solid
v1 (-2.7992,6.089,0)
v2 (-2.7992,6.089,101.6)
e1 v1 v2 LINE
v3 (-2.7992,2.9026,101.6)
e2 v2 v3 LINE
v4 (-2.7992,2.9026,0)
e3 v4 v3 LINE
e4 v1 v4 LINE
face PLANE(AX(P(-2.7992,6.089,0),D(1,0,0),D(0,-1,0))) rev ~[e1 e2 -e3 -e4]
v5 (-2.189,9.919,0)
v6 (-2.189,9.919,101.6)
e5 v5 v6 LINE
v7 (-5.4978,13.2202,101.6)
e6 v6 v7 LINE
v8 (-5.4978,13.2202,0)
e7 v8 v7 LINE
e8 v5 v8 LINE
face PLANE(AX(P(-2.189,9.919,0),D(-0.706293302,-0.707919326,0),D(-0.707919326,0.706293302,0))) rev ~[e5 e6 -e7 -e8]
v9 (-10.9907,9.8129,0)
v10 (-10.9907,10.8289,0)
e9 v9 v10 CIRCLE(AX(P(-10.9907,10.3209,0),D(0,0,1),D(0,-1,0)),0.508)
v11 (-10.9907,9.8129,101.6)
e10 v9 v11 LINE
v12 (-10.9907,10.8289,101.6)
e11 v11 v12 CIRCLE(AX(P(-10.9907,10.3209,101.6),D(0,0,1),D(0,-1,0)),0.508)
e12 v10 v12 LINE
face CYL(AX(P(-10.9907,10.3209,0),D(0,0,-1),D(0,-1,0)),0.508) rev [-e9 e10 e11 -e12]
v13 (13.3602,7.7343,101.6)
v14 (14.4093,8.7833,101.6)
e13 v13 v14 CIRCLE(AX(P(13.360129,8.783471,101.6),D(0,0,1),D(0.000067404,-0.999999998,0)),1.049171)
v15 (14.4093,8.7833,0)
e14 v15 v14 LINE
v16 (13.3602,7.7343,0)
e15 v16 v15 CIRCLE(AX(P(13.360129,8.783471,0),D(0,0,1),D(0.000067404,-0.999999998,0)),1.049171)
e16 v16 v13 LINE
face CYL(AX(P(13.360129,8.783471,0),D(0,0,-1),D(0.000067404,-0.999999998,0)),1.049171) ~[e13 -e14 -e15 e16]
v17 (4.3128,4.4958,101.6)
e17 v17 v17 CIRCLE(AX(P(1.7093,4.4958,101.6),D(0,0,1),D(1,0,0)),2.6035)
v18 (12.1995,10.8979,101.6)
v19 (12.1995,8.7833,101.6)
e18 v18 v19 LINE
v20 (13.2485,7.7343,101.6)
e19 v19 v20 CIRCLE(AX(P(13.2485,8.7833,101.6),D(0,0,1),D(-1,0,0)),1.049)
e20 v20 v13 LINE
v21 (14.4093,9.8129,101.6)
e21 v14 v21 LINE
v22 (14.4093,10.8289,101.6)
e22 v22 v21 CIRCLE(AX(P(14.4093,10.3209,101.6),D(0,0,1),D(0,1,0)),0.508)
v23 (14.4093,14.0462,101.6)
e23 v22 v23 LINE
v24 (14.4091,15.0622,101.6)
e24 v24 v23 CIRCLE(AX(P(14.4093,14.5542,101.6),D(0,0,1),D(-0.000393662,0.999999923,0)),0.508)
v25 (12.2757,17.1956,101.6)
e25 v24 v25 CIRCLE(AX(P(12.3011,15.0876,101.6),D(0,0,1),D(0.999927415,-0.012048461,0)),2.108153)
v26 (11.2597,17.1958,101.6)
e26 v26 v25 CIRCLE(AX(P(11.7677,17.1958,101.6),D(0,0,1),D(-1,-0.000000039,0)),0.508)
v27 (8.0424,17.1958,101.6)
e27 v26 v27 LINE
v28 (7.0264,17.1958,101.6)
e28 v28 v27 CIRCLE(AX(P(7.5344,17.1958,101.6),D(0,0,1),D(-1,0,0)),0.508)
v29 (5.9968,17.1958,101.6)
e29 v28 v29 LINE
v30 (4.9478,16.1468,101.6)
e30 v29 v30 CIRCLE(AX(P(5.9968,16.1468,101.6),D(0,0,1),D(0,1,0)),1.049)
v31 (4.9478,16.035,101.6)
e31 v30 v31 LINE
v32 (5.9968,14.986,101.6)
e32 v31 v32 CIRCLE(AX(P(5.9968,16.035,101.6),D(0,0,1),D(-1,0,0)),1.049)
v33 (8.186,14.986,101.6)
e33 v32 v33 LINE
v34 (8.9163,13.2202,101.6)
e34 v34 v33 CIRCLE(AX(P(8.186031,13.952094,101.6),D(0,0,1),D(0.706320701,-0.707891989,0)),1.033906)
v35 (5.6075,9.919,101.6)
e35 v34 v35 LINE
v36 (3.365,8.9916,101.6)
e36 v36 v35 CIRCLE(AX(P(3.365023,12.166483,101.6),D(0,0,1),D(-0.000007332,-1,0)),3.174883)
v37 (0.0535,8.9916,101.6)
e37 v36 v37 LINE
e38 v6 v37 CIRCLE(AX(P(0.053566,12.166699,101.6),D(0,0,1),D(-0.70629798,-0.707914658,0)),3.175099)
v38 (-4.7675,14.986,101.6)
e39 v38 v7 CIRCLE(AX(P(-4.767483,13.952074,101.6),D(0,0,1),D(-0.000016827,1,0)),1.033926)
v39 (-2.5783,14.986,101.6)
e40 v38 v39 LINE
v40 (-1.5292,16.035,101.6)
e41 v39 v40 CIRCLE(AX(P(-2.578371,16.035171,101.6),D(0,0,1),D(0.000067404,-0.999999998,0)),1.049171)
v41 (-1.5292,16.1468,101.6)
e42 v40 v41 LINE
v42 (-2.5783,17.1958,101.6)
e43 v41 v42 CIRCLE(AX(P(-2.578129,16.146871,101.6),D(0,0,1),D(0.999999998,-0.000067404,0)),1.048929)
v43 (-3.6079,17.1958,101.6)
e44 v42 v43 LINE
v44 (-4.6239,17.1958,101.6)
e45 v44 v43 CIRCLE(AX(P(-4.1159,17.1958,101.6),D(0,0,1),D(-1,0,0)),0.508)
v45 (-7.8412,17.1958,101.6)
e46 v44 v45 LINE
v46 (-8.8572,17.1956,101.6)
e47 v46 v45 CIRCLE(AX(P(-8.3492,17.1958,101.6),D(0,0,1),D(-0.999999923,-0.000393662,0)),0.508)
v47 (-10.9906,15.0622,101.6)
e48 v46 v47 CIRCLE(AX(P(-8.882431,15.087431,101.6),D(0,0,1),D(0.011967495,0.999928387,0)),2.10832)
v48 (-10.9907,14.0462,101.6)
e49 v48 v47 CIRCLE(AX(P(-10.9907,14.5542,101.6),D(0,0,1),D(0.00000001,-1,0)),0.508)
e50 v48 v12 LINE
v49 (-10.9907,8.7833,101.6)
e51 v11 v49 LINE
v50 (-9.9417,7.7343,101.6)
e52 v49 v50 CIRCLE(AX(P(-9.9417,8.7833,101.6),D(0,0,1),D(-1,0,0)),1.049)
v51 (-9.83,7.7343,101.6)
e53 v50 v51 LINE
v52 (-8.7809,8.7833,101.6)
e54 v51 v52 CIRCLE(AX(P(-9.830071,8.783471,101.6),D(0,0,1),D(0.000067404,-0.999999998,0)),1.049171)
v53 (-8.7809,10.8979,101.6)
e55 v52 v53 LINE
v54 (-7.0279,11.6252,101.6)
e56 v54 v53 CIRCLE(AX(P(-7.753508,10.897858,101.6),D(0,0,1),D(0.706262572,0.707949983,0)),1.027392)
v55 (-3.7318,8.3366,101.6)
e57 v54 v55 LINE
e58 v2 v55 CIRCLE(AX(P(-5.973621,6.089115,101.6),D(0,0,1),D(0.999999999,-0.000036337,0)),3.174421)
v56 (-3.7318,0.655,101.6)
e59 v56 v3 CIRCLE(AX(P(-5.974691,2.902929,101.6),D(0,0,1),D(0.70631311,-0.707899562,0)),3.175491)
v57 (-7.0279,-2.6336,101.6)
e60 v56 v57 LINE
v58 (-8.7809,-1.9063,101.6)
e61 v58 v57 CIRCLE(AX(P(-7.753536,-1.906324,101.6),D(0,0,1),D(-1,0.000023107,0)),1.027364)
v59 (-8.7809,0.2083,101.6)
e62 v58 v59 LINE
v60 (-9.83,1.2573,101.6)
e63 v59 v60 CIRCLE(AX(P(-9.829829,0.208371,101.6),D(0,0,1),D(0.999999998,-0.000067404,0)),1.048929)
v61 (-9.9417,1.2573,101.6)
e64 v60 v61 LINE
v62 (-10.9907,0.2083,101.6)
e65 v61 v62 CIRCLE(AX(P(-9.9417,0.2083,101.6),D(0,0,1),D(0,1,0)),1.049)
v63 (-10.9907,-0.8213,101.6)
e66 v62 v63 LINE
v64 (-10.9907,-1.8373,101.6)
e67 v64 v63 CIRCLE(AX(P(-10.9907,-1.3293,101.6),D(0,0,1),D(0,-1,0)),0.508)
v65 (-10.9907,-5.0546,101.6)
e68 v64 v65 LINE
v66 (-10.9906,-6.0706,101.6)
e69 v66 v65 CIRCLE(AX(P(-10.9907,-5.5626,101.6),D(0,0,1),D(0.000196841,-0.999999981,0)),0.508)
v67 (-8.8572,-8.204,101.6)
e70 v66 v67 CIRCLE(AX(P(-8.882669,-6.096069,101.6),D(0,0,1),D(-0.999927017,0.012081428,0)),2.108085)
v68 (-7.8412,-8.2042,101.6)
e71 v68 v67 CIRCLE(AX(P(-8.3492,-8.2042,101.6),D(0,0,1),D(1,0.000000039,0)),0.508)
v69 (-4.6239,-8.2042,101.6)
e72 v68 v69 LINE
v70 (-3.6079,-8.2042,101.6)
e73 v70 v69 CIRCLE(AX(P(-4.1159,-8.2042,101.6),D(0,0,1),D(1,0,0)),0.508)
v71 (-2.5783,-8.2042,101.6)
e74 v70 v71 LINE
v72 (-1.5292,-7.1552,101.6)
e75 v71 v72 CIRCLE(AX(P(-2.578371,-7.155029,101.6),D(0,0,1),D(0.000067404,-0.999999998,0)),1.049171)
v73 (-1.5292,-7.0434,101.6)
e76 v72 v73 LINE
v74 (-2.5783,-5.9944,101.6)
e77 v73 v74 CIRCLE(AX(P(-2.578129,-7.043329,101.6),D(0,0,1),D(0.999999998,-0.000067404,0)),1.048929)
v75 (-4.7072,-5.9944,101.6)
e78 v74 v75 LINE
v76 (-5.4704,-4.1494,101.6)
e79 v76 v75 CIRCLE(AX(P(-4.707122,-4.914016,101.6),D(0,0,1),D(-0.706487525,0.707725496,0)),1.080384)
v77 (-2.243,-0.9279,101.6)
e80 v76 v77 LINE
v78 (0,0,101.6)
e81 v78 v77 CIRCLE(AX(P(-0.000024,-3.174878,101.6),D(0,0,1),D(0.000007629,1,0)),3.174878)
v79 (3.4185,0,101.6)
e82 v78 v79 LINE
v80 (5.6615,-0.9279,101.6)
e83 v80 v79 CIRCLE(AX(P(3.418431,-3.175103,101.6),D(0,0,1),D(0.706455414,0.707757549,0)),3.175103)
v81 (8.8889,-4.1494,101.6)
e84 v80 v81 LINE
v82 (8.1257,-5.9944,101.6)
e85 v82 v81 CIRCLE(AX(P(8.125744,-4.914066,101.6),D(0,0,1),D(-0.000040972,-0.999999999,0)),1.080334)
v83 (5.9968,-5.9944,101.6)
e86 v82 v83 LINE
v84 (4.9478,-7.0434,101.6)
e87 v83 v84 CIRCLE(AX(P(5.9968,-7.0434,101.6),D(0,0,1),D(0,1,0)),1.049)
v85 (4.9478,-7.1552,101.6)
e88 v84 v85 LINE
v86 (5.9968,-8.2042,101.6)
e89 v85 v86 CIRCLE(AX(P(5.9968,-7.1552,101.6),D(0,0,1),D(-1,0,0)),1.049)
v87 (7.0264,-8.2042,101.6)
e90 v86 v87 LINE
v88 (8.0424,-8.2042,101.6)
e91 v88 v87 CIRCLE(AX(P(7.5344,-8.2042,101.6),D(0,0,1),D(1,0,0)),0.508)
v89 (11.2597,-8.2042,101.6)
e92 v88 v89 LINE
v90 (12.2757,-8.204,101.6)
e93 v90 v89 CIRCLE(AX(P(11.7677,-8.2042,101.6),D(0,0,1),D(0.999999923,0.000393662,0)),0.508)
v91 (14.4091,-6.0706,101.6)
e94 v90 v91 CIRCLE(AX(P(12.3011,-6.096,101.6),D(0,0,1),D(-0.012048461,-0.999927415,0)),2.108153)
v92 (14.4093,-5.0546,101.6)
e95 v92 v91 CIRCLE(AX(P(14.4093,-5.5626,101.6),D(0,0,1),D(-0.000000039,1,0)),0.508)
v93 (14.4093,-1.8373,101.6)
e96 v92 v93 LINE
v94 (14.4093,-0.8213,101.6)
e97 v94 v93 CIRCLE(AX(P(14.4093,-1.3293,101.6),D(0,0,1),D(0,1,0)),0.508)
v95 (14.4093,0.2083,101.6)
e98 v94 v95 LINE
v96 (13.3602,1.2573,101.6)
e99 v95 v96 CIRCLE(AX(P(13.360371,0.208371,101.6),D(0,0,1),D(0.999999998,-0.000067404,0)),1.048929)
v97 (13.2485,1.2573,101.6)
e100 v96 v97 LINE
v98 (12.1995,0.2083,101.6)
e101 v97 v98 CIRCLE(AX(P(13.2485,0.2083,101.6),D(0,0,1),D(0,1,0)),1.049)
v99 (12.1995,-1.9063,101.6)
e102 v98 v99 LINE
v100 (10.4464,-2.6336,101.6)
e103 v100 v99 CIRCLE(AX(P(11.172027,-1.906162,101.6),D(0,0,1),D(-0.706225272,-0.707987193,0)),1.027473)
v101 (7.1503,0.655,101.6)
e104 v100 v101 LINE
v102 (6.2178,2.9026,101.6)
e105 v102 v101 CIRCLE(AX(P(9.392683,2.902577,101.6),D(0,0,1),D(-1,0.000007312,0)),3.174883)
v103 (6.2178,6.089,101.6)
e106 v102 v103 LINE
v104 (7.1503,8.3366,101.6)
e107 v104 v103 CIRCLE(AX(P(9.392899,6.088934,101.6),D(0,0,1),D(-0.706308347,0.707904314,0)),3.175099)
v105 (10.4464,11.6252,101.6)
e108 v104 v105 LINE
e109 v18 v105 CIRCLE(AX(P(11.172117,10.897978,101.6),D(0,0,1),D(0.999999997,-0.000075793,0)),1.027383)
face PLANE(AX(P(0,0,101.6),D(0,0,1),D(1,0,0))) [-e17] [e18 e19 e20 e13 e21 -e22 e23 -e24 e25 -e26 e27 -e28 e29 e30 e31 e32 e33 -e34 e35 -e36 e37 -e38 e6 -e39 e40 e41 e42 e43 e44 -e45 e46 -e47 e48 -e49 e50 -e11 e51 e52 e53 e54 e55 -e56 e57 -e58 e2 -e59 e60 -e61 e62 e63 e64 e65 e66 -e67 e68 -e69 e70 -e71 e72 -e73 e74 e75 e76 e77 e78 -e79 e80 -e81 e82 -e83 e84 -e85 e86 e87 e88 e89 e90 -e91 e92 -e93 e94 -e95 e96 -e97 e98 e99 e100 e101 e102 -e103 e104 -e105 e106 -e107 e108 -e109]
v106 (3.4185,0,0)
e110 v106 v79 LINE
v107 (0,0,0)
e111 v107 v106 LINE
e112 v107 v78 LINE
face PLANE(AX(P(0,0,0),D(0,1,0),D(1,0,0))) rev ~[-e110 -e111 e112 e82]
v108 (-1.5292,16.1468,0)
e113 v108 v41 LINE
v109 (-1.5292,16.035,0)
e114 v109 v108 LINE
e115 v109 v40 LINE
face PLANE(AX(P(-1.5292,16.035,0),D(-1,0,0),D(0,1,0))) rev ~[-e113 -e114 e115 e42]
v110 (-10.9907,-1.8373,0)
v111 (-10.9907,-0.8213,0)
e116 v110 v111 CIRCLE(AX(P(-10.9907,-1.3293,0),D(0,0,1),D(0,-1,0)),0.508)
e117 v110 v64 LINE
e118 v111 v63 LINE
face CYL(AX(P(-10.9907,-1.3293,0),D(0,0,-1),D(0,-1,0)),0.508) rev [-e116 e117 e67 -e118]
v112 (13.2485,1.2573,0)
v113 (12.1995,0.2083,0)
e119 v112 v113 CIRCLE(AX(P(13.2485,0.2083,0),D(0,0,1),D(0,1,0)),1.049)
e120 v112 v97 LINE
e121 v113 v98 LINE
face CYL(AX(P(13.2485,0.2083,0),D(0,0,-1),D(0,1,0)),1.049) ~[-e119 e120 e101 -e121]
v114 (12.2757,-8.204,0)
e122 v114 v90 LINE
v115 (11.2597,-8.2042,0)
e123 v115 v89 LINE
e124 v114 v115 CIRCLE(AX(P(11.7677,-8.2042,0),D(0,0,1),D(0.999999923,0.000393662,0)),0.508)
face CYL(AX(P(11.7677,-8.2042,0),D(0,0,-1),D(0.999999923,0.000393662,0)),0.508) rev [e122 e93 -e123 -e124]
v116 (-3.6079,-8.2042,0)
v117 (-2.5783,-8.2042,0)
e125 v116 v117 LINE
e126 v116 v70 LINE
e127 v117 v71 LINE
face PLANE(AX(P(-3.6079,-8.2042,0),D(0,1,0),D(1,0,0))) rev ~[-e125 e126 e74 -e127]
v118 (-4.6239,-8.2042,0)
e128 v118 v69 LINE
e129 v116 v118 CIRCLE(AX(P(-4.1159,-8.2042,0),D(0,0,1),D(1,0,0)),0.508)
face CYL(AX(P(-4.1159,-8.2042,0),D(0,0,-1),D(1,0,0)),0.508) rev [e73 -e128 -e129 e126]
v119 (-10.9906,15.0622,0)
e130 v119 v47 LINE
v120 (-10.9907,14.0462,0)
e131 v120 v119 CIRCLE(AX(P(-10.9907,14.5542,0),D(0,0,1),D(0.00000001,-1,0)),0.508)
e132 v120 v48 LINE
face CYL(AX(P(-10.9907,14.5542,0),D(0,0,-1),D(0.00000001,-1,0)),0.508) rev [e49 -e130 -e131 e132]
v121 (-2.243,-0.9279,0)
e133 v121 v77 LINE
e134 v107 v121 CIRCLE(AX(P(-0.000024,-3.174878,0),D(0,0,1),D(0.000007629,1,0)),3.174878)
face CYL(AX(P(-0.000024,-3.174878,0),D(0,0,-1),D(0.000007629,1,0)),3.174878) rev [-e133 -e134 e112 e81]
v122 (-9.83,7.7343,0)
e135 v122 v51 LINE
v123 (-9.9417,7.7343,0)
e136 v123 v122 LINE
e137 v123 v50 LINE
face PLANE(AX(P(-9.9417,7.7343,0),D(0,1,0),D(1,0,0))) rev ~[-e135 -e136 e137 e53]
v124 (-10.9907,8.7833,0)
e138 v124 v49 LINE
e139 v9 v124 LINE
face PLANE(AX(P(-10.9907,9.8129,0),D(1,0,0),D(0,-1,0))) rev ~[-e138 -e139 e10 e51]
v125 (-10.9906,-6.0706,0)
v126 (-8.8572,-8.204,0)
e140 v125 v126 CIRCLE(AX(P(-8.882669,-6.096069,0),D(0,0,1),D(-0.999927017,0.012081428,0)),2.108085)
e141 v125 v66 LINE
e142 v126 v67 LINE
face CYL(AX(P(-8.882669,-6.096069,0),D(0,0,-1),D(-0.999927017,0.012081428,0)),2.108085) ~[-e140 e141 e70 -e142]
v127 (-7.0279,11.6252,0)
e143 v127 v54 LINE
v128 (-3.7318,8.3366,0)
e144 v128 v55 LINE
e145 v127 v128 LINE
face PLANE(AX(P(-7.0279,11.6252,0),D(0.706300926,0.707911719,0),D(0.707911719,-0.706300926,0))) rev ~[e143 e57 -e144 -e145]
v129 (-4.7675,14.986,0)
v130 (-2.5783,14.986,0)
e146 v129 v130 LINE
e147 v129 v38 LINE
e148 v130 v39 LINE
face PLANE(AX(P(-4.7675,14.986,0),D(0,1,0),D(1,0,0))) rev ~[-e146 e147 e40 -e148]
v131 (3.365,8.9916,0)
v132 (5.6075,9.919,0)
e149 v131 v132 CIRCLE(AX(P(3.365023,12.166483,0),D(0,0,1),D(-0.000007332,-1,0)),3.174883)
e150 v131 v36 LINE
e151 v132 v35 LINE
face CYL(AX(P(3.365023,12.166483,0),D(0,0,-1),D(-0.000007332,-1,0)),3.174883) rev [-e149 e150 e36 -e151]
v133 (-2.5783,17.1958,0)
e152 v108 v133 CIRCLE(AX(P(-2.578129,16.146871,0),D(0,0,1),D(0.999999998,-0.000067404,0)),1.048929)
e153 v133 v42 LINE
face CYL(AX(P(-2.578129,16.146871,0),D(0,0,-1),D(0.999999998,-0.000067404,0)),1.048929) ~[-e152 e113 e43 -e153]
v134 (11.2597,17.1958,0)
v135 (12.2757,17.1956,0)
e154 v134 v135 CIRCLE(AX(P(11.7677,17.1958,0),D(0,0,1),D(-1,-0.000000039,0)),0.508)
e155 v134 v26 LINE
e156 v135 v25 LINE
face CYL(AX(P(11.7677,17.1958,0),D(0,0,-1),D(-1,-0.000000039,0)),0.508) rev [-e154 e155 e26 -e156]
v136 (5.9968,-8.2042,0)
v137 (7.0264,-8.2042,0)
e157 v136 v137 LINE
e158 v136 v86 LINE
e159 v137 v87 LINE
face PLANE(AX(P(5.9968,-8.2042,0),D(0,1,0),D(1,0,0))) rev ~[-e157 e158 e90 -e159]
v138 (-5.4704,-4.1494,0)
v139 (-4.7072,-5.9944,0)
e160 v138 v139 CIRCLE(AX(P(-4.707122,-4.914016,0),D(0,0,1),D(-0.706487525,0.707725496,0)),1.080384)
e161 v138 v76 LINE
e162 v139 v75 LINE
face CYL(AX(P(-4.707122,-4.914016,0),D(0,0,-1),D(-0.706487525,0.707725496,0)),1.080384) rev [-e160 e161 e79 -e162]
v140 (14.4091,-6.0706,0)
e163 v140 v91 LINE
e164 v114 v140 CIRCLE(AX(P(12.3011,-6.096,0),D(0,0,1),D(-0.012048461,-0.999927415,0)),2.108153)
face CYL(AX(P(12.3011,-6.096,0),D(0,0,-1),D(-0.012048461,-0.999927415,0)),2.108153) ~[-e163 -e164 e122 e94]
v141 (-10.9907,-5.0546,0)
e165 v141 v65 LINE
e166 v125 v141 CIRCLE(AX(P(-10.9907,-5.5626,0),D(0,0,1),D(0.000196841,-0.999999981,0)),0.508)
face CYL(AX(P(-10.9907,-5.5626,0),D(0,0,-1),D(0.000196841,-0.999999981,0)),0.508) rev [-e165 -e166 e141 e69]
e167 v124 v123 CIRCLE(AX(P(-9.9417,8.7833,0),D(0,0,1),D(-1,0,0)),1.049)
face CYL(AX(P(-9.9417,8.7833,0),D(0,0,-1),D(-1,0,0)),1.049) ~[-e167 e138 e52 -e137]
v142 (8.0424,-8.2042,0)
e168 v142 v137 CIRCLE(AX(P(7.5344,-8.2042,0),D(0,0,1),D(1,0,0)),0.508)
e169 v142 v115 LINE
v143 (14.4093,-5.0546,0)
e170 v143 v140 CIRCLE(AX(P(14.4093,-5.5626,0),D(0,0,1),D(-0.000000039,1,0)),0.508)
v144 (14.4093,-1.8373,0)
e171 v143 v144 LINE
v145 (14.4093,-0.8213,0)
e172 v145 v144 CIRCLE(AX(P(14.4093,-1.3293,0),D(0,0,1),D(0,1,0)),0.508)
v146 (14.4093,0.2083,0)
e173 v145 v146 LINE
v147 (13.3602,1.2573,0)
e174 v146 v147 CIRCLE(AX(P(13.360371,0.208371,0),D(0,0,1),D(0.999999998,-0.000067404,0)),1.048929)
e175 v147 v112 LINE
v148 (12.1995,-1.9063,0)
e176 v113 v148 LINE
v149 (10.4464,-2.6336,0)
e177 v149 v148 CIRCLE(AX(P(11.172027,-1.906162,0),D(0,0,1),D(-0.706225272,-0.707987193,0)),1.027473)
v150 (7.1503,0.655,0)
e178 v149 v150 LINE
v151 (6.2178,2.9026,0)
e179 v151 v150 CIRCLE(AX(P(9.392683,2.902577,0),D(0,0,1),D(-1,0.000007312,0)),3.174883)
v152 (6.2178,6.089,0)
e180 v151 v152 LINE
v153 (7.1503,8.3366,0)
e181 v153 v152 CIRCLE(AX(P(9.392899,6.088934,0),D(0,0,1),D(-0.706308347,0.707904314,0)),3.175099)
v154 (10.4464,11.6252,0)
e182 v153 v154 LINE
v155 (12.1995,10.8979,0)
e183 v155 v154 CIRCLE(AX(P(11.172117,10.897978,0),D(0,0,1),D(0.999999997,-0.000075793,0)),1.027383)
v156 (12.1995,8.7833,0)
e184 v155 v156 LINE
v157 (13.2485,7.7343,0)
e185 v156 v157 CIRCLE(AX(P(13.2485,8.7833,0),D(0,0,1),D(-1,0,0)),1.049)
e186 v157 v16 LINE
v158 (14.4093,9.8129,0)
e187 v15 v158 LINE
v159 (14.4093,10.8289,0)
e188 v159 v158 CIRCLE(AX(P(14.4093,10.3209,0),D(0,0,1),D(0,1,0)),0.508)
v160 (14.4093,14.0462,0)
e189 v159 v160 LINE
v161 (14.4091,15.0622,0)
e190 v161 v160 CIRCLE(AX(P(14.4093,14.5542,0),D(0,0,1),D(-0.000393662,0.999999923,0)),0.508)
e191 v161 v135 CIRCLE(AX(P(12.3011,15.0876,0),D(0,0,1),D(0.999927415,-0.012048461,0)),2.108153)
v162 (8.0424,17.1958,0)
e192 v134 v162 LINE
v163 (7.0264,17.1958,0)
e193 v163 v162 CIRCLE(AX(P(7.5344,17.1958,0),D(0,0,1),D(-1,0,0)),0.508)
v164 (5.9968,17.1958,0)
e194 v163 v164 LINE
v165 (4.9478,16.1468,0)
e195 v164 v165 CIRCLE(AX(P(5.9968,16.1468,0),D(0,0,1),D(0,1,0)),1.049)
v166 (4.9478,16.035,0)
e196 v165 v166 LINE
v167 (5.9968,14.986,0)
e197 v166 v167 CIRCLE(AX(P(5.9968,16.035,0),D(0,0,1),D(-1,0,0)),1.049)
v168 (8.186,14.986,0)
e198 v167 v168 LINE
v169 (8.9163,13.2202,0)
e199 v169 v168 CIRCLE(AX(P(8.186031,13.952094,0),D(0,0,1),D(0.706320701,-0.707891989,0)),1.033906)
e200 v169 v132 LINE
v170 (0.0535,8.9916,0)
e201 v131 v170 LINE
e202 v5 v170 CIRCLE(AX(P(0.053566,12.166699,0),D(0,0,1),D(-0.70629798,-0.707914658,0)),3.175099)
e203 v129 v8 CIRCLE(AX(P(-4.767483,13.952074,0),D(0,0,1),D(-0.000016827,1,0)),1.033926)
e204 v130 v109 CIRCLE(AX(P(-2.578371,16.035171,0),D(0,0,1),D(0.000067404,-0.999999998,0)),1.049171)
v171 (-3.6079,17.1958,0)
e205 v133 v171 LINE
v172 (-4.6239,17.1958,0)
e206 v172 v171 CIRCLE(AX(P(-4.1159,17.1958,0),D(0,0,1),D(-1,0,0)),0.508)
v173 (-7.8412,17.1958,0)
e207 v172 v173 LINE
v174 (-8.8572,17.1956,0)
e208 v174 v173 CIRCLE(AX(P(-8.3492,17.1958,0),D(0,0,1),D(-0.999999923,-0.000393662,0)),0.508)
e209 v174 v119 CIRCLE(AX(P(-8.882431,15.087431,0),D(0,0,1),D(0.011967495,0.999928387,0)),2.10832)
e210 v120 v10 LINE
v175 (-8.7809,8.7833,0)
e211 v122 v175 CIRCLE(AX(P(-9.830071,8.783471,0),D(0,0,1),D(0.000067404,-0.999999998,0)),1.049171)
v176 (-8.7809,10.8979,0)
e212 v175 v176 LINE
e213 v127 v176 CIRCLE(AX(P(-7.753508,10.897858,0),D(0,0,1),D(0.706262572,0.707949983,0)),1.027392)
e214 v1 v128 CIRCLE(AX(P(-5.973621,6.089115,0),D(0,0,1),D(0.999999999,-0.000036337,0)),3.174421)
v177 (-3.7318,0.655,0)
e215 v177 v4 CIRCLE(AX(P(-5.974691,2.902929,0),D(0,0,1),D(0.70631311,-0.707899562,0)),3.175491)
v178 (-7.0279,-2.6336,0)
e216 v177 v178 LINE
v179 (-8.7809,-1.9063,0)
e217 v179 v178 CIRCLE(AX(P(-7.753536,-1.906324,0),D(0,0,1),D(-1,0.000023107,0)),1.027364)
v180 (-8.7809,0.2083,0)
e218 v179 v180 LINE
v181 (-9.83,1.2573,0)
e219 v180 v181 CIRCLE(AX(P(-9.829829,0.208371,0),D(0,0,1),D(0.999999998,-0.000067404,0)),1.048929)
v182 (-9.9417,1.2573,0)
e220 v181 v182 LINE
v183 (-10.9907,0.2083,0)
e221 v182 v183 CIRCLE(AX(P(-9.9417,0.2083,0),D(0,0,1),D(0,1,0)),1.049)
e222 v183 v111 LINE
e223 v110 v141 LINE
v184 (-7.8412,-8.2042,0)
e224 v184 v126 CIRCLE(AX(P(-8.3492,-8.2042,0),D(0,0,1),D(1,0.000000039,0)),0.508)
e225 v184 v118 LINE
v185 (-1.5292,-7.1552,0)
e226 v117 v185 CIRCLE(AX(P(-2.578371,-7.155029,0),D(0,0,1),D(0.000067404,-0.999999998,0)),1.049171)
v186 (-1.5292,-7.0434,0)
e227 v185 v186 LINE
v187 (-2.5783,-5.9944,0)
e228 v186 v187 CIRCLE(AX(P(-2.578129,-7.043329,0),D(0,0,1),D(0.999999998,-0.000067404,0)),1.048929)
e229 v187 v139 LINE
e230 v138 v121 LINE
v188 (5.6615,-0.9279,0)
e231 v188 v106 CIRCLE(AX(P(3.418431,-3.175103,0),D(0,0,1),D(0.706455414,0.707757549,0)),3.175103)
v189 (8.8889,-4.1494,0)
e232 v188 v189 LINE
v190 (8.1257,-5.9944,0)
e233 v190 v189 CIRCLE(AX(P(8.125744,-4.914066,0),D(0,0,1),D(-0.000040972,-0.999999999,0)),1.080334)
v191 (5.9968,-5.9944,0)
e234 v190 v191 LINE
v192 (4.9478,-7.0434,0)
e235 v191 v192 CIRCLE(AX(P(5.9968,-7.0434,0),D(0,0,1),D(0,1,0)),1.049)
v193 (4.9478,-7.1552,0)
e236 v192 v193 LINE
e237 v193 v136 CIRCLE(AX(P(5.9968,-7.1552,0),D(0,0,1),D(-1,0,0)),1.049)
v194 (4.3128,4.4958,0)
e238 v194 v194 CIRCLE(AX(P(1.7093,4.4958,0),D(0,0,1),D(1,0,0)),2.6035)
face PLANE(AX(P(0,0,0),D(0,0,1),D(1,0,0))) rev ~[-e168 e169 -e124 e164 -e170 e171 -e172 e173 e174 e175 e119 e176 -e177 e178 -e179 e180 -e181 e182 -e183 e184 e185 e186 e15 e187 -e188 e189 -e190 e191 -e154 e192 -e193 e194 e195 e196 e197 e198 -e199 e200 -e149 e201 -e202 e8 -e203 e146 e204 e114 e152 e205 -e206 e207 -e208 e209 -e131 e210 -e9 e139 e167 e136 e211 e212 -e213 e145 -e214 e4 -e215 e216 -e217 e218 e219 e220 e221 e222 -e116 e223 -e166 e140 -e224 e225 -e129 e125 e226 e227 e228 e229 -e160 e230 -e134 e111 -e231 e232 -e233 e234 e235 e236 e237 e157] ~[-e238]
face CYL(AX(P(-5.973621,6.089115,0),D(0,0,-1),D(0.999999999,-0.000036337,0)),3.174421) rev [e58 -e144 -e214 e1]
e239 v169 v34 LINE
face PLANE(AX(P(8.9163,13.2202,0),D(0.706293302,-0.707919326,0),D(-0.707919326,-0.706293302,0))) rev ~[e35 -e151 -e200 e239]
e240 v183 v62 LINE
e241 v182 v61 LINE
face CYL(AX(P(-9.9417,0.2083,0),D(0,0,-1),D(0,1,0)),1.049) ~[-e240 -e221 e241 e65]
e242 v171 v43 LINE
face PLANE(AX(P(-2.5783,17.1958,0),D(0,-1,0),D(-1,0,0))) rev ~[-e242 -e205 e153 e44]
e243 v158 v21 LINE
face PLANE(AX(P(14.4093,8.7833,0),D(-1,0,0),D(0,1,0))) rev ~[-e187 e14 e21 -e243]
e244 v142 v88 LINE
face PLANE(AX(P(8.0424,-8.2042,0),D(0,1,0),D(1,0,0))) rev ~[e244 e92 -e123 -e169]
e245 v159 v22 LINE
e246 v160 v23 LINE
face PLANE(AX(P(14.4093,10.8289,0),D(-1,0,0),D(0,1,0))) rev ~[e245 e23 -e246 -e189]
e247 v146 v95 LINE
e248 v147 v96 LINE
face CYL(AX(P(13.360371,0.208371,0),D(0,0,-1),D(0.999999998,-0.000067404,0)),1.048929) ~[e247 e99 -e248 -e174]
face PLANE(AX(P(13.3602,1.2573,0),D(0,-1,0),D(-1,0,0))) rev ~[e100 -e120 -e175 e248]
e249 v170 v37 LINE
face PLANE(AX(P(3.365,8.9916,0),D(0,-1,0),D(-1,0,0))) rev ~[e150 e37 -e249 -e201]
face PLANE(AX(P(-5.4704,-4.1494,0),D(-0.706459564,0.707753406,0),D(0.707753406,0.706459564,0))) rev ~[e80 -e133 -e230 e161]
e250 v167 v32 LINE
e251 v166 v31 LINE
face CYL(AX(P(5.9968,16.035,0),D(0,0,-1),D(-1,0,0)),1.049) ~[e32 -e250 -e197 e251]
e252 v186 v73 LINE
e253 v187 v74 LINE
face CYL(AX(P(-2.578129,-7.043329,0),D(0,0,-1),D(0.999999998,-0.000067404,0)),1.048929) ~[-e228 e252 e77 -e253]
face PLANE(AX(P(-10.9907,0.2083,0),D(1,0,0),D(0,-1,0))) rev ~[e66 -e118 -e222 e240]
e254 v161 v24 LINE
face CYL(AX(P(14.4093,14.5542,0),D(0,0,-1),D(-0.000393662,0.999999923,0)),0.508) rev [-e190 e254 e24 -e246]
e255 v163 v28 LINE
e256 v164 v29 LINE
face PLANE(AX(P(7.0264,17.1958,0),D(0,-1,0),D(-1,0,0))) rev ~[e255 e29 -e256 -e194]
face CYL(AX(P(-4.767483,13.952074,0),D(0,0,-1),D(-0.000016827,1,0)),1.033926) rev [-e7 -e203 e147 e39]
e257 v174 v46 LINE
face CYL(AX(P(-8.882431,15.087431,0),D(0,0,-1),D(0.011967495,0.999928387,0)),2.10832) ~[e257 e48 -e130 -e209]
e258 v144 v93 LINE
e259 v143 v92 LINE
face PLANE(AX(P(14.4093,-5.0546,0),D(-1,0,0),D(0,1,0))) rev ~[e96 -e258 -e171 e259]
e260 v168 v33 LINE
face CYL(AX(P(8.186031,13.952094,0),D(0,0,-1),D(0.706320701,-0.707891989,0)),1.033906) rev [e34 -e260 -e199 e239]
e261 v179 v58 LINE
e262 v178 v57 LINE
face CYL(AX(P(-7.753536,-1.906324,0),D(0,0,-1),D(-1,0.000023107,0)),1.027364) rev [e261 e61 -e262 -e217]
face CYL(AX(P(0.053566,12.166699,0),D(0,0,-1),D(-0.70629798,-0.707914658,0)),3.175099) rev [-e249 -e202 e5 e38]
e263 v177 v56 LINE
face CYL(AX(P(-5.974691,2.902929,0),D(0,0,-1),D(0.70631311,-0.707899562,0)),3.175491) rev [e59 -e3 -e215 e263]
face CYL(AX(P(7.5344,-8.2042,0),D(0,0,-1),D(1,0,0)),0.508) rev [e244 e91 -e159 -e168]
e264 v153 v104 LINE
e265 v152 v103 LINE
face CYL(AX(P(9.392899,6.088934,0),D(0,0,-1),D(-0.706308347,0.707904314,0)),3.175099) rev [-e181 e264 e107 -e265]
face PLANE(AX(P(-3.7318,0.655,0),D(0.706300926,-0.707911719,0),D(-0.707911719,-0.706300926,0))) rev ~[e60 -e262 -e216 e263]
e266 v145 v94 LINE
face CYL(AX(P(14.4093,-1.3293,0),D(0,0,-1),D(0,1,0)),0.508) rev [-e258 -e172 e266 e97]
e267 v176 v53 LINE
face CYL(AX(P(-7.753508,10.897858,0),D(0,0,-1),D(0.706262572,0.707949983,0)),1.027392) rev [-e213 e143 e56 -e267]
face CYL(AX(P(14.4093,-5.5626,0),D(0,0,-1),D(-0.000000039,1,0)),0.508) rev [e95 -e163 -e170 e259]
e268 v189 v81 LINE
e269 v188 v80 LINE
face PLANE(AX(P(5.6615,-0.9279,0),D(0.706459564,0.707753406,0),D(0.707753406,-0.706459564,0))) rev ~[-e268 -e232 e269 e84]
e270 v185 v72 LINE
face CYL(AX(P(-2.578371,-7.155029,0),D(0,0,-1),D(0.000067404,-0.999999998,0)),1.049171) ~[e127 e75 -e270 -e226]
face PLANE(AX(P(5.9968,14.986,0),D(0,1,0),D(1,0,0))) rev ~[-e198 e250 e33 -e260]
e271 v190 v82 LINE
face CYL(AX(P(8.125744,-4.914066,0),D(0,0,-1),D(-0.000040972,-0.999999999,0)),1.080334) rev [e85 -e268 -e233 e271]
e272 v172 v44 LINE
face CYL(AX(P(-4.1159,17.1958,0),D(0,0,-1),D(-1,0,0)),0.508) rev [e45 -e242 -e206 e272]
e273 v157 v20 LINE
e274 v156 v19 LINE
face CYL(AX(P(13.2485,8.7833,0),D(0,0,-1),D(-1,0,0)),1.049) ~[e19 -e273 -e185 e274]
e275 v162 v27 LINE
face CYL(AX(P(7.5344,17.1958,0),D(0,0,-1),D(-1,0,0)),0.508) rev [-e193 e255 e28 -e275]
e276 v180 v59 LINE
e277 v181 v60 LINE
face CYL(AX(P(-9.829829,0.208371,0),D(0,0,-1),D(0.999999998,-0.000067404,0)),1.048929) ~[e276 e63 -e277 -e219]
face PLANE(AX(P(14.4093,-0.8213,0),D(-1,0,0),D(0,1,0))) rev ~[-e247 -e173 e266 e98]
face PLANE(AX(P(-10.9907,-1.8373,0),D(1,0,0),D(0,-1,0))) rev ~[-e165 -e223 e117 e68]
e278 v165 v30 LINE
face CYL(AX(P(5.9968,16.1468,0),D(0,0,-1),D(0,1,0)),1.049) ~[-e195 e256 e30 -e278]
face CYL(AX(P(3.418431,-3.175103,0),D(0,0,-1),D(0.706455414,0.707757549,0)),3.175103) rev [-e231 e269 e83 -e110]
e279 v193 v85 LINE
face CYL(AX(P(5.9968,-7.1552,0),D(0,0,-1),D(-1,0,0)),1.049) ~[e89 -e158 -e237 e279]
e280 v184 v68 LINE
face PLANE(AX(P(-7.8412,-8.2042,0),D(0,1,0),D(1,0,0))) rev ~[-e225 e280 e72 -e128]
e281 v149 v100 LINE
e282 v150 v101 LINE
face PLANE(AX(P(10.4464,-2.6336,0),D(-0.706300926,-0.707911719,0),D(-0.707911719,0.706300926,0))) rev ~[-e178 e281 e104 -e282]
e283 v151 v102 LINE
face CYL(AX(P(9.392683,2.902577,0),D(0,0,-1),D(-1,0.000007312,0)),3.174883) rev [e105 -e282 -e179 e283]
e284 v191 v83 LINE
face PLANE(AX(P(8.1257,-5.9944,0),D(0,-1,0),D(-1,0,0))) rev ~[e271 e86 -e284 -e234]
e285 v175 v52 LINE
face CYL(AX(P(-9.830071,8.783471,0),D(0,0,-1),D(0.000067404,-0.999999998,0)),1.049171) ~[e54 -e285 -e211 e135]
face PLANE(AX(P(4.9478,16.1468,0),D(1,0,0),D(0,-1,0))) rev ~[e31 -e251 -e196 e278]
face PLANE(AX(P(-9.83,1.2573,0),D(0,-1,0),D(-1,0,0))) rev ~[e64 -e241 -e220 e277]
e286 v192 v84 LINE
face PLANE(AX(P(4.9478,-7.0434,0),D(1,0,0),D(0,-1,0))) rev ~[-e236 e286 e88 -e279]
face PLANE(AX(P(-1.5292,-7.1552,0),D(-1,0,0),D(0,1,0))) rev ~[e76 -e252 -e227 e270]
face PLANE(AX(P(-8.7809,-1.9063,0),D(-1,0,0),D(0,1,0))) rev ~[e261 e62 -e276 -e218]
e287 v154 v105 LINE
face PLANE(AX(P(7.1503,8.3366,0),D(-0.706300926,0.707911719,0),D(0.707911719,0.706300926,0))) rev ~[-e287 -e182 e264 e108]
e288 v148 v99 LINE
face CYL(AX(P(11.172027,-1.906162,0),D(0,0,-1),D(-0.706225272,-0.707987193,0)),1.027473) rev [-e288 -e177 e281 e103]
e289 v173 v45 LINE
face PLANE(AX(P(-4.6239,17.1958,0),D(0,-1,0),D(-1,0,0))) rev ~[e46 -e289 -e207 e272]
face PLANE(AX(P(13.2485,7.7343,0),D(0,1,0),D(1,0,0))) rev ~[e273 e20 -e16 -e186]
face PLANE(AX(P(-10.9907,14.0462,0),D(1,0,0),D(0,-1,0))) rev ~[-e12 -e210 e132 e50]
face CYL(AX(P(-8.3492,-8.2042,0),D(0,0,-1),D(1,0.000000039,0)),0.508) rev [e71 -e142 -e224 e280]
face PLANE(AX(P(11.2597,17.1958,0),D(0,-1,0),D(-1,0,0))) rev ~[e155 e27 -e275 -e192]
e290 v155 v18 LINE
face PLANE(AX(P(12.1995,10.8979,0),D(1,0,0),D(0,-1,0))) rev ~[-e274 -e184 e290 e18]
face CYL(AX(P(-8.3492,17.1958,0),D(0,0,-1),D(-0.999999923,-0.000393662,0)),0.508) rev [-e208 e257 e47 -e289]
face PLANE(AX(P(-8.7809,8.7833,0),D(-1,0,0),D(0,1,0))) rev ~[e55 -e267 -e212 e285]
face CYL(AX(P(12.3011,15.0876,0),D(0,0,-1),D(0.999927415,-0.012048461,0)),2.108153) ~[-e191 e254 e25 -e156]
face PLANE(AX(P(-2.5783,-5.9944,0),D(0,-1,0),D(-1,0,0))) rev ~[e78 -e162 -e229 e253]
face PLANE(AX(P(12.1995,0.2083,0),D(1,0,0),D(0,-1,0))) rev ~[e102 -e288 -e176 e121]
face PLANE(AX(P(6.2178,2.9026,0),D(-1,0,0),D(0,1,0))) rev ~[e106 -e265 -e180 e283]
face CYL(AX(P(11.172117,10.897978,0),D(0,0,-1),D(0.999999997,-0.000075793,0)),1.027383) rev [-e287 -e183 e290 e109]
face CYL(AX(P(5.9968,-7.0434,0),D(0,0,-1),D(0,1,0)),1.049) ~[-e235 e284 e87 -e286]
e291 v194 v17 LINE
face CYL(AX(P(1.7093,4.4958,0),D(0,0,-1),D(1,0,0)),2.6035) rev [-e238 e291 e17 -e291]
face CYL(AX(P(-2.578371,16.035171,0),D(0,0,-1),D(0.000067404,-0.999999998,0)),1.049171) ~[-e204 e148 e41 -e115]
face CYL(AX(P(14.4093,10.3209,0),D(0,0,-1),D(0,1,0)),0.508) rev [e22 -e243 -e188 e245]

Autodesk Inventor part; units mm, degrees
ref_plane "YZ Plane" through (0, 0, 0) normal (1, 0, 0) x (0, 1, 0)
ref_plane "XZ Plane" through (0, 0, 0) normal (0, 1, 0) x (-1, 0, 0)
ref_plane "XY Plane" through (0, 0, 0) normal (0, 0, 1) x (1, 0, 0)
sketch "Sketch1" plane through (0, 0, 0) normal (0, 0, 1) x (1, 0, 0)
  arc A0 (-5.4704, -4.1494) -> (-4.7072, -5.9944) centre (-4.7072, -4.914) ccw
  line L0 (-5.4704, -4.1494) -> (-2.243, -0.9279)
  arc A1 (0, 0) -> (-2.243, -0.9279) centre (0, -3.175) ccw
  line L1 (0, 0) -> (3.4185, 0)
  arc A2 (5.6615, -0.9279) -> (3.4185, 0) centre (3.4185, -3.175) ccw
  line L2 (5.6615, -0.9279) -> (8.8889, -4.1494)
  arc A3 (8.1257, -5.9944) -> (8.8889, -4.1494) centre (8.1257, -4.914) ccw
  line L3 (8.1257, -5.9944) -> (5.9968, -5.9944)
  arc A4 (5.9968, -5.9944) -> (4.9478, -7.0434) centre (5.9968, -7.0434) ccw
  line L4 (4.9478, -7.0434) -> (4.9478, -7.1552)
  arc A5 (4.9478, -7.1552) -> (5.9968, -8.2042) centre (5.9968, -7.1552) ccw
  line L5 (5.9968, -8.2042) -> (7.0264, -8.2042)
  arc A6 (8.0424, -8.2042) -> (7.0264, -8.2042) centre (7.5344, -8.2042) ccw
  line L6 (8.0424, -8.2042) -> (11.2597, -8.2042)
  arc A7 (12.2757, -8.204) -> (11.2597, -8.2042) centre (11.7677, -8.2042) ccw
  arc A8 (12.2757, -8.204) -> (14.4091, -6.0706) centre (12.3011, -6.096) ccw
  arc A9 (14.4093, -5.0546) -> (14.4091, -6.0706) centre (14.4093, -5.5626) ccw
  line L7 (14.4093, -5.0546) -> (14.4093, -1.8373)
  arc A10 (14.4093, -0.8213) -> (14.4093, -1.8373) centre (14.4093, -1.3293) ccw
  line L8 (14.4093, -0.8213) -> (14.4093, 0.2083)
  arc A11 (14.4093, 0.2083) -> (13.3602, 1.2573) centre (13.3602, 0.2083) ccw
  line L9 (13.3602, 1.2573) -> (13.2485, 1.2573)
  arc A12 (13.2485, 1.2573) -> (12.1995, 0.2083) centre (13.2485, 0.2083) ccw
  line L10 (12.1995, 0.2083) -> (12.1995, -1.9063)
  arc A13 (10.4464, -2.6336) -> (12.1995, -1.9063) centre (11.172, -1.9063) ccw
  line L11 (10.4464, -2.6336) -> (7.1503, 0.655)
  arc A14 (6.2178, 2.9026) -> (7.1503, 0.655) centre (9.3928, 2.9026) ccw
  line L12 (6.2178, 2.9026) -> (6.2178, 6.089)
  arc A15 (7.1503, 8.3366) -> (6.2178, 6.089) centre (9.3928, 6.089) ccw
  line L13 (7.1503, 8.3366) -> (10.4464, 11.6252)
  arc A16 (12.1995, 10.8979) -> (10.4464, 11.6252) centre (11.172, 10.8979) ccw
  line L14 (12.1995, 10.8979) -> (12.1995, 8.7833)
  arc A17 (12.1995, 8.7833) -> (13.2485, 7.7343) centre (13.2485, 8.7833) ccw
  line L15 (13.2485, 7.7343) -> (13.3602, 7.7343)
  arc A18 (13.3602, 7.7343) -> (14.4093, 8.7833) centre (13.3602, 8.7833) ccw
  line L16 (14.4093, 8.7833) -> (14.4093, 9.8129)
  arc A19 (14.4093, 10.8289) -> (14.4093, 9.8129) centre (14.4093, 10.3209) ccw
  line L17 (14.4093, 10.8289) -> (14.4093, 14.0462)
  arc A20 (14.4091, 15.0622) -> (14.4093, 14.0462) centre (14.4093, 14.5542) ccw
  arc A21 (14.4091, 15.0622) -> (12.2757, 17.1956) centre (12.3011, 15.0876) ccw
  arc A22 (11.2597, 17.1958) -> (12.2757, 17.1956) centre (11.7677, 17.1958) ccw
  line L18 (11.2597, 17.1958) -> (8.0424, 17.1958)
  arc A23 (7.0264, 17.1958) -> (8.0424, 17.1958) centre (7.5344, 17.1958) ccw
  line L19 (7.0264, 17.1958) -> (5.9968, 17.1958)
  arc A24 (5.9968, 17.1958) -> (4.9478, 16.1468) centre (5.9968, 16.1468) ccw
  line L20 (4.9478, 16.1468) -> (4.9478, 16.035)
  arc A25 (4.9478, 16.035) -> (5.9968, 14.986) centre (5.9968, 16.035) ccw
  line L21 (5.9968, 14.986) -> (8.186, 14.986)
  arc A26 (8.9163, 13.2202) -> (8.186, 14.986) centre (8.186, 13.9521) ccw
  line L22 (8.9163, 13.2202) -> (5.6075, 9.919)
  arc A27 (3.365, 8.9916) -> (5.6075, 9.919) centre (3.365, 12.1666) ccw
  line L23 (3.365, 8.9916) -> (0.0535, 8.9916)
  arc A28 (-2.189, 9.919) -> (0.0535, 8.9916) centre (0.0535, 12.1666) ccw
  line L24 (-2.189, 9.919) -> (-5.4978, 13.2202)
  arc A29 (-4.7675, 14.986) -> (-5.4978, 13.2202) centre (-4.7675, 13.9521) ccw
  line L25 (-4.7675, 14.986) -> (-2.5783, 14.986)
  arc A30 (-2.5783, 14.986) -> (-1.5292, 16.035) centre (-2.5783, 16.035) ccw
  line L26 (-1.5292, 16.035) -> (-1.5292, 16.1468)
  arc A31 (-1.5292, 16.1468) -> (-2.5783, 17.1958) centre (-2.5783, 16.1468) ccw
  line L27 (-2.5783, 17.1958) -> (-3.6079, 17.1958)
  arc A32 (-4.6239, 17.1958) -> (-3.6079, 17.1958) centre (-4.1159, 17.1958) ccw
  line L28 (-4.6239, 17.1958) -> (-7.8412, 17.1958)
  arc A33 (-8.8572, 17.1956) -> (-7.8412, 17.1958) centre (-8.3492, 17.1958) ccw
  arc A34 (-8.8572, 17.1956) -> (-10.9906, 15.0622) centre (-8.8825, 15.0876) ccw
  arc A35 (-10.9907, 14.0462) -> (-10.9906, 15.0622) centre (-10.9907, 14.5542) ccw
  line L29 (-10.9907, 14.0462) -> (-10.9907, 10.8289)
  arc A36 (-10.9907, 9.8129) -> (-10.9907, 10.8289) centre (-10.9907, 10.3209) ccw
  line L30 (-10.9907, 9.8129) -> (-10.9907, 8.7833)
  arc A37 (-10.9907, 8.7833) -> (-9.9417, 7.7343) centre (-9.9417, 8.7833) ccw
  line L31 (-9.9417, 7.7343) -> (-9.83, 7.7343)
  arc A38 (-9.83, 7.7343) -> (-8.7809, 8.7833) centre (-9.83, 8.7833) ccw
  line L32 (-8.7809, 8.7833) -> (-8.7809, 10.8979)
  arc A39 (-7.0279, 11.6252) -> (-8.7809, 10.8979) centre (-7.7535, 10.8979) ccw
  line L33 (-7.0279, 11.6252) -> (-3.7318, 8.3366)
  arc A40 (-2.7992, 6.089) -> (-3.7318, 8.3366) centre (-5.9742, 6.089) ccw
  line L34 (-2.7992, 6.089) -> (-2.7992, 2.9026)
  arc A41 (-3.7318, 0.655) -> (-2.7992, 2.9026) centre (-5.9742, 2.9026) ccw
  line L35 (-3.7318, 0.655) -> (-7.0279, -2.6336)
  arc A42 (-8.7809, -1.9063) -> (-7.0279, -2.6336) centre (-7.7535, -1.9063) ccw
  line L36 (-8.7809, -1.9063) -> (-8.7809, 0.2083)
  arc A43 (-8.7809, 0.2083) -> (-9.83, 1.2573) centre (-9.83, 0.2083) ccw
  line L37 (-9.83, 1.2573) -> (-9.9417, 1.2573)
  arc A44 (-9.9417, 1.2573) -> (-10.9907, 0.2083) centre (-9.9417, 0.2083) ccw
  line L38 (-10.9907, 0.2083) -> (-10.9907, -0.8213)
  arc A45 (-10.9907, -1.8373) -> (-10.9907, -0.8213) centre (-10.9907, -1.3293) ccw
  line L39 (-10.9907, -1.8373) -> (-10.9907, -5.0546)
  arc A46 (-10.9906, -6.0706) -> (-10.9907, -5.0546) centre (-10.9907, -5.5626) ccw
  arc A47 (-10.9906, -6.0706) -> (-8.8572, -8.204) centre (-8.8825, -6.096) ccw
  arc A48 (-7.8412, -8.2042) -> (-8.8572, -8.204) centre (-8.3492, -8.2042) ccw
  line L40 (-7.8412, -8.2042) -> (-4.6239, -8.2042)
  arc A49 (-3.6079, -8.2042) -> (-4.6239, -8.2042) centre (-4.1159, -8.2042) ccw
  line L41 (-3.6079, -8.2042) -> (-2.5783, -8.2042)
  arc A50 (-2.5783, -8.2042) -> (-1.5292, -7.1552) centre (-2.5783, -7.1552) ccw
  line L42 (-1.5292, -7.1552) -> (-1.5292, -7.0434)
  arc A51 (-1.5292, -7.0434) -> (-2.5783, -5.9944) centre (-2.5783, -7.0434) ccw
  line L43 (-2.5783, -5.9944) -> (-4.7072, -5.9944)
  circle A52 centre (1.7093, 4.4958) radius 2.6035
extrude "Extrusion1" add sketch "Sketch1" along normal blind 101.6
properties part number "4in 1x1 T slot" material "Steel, Alloy"
